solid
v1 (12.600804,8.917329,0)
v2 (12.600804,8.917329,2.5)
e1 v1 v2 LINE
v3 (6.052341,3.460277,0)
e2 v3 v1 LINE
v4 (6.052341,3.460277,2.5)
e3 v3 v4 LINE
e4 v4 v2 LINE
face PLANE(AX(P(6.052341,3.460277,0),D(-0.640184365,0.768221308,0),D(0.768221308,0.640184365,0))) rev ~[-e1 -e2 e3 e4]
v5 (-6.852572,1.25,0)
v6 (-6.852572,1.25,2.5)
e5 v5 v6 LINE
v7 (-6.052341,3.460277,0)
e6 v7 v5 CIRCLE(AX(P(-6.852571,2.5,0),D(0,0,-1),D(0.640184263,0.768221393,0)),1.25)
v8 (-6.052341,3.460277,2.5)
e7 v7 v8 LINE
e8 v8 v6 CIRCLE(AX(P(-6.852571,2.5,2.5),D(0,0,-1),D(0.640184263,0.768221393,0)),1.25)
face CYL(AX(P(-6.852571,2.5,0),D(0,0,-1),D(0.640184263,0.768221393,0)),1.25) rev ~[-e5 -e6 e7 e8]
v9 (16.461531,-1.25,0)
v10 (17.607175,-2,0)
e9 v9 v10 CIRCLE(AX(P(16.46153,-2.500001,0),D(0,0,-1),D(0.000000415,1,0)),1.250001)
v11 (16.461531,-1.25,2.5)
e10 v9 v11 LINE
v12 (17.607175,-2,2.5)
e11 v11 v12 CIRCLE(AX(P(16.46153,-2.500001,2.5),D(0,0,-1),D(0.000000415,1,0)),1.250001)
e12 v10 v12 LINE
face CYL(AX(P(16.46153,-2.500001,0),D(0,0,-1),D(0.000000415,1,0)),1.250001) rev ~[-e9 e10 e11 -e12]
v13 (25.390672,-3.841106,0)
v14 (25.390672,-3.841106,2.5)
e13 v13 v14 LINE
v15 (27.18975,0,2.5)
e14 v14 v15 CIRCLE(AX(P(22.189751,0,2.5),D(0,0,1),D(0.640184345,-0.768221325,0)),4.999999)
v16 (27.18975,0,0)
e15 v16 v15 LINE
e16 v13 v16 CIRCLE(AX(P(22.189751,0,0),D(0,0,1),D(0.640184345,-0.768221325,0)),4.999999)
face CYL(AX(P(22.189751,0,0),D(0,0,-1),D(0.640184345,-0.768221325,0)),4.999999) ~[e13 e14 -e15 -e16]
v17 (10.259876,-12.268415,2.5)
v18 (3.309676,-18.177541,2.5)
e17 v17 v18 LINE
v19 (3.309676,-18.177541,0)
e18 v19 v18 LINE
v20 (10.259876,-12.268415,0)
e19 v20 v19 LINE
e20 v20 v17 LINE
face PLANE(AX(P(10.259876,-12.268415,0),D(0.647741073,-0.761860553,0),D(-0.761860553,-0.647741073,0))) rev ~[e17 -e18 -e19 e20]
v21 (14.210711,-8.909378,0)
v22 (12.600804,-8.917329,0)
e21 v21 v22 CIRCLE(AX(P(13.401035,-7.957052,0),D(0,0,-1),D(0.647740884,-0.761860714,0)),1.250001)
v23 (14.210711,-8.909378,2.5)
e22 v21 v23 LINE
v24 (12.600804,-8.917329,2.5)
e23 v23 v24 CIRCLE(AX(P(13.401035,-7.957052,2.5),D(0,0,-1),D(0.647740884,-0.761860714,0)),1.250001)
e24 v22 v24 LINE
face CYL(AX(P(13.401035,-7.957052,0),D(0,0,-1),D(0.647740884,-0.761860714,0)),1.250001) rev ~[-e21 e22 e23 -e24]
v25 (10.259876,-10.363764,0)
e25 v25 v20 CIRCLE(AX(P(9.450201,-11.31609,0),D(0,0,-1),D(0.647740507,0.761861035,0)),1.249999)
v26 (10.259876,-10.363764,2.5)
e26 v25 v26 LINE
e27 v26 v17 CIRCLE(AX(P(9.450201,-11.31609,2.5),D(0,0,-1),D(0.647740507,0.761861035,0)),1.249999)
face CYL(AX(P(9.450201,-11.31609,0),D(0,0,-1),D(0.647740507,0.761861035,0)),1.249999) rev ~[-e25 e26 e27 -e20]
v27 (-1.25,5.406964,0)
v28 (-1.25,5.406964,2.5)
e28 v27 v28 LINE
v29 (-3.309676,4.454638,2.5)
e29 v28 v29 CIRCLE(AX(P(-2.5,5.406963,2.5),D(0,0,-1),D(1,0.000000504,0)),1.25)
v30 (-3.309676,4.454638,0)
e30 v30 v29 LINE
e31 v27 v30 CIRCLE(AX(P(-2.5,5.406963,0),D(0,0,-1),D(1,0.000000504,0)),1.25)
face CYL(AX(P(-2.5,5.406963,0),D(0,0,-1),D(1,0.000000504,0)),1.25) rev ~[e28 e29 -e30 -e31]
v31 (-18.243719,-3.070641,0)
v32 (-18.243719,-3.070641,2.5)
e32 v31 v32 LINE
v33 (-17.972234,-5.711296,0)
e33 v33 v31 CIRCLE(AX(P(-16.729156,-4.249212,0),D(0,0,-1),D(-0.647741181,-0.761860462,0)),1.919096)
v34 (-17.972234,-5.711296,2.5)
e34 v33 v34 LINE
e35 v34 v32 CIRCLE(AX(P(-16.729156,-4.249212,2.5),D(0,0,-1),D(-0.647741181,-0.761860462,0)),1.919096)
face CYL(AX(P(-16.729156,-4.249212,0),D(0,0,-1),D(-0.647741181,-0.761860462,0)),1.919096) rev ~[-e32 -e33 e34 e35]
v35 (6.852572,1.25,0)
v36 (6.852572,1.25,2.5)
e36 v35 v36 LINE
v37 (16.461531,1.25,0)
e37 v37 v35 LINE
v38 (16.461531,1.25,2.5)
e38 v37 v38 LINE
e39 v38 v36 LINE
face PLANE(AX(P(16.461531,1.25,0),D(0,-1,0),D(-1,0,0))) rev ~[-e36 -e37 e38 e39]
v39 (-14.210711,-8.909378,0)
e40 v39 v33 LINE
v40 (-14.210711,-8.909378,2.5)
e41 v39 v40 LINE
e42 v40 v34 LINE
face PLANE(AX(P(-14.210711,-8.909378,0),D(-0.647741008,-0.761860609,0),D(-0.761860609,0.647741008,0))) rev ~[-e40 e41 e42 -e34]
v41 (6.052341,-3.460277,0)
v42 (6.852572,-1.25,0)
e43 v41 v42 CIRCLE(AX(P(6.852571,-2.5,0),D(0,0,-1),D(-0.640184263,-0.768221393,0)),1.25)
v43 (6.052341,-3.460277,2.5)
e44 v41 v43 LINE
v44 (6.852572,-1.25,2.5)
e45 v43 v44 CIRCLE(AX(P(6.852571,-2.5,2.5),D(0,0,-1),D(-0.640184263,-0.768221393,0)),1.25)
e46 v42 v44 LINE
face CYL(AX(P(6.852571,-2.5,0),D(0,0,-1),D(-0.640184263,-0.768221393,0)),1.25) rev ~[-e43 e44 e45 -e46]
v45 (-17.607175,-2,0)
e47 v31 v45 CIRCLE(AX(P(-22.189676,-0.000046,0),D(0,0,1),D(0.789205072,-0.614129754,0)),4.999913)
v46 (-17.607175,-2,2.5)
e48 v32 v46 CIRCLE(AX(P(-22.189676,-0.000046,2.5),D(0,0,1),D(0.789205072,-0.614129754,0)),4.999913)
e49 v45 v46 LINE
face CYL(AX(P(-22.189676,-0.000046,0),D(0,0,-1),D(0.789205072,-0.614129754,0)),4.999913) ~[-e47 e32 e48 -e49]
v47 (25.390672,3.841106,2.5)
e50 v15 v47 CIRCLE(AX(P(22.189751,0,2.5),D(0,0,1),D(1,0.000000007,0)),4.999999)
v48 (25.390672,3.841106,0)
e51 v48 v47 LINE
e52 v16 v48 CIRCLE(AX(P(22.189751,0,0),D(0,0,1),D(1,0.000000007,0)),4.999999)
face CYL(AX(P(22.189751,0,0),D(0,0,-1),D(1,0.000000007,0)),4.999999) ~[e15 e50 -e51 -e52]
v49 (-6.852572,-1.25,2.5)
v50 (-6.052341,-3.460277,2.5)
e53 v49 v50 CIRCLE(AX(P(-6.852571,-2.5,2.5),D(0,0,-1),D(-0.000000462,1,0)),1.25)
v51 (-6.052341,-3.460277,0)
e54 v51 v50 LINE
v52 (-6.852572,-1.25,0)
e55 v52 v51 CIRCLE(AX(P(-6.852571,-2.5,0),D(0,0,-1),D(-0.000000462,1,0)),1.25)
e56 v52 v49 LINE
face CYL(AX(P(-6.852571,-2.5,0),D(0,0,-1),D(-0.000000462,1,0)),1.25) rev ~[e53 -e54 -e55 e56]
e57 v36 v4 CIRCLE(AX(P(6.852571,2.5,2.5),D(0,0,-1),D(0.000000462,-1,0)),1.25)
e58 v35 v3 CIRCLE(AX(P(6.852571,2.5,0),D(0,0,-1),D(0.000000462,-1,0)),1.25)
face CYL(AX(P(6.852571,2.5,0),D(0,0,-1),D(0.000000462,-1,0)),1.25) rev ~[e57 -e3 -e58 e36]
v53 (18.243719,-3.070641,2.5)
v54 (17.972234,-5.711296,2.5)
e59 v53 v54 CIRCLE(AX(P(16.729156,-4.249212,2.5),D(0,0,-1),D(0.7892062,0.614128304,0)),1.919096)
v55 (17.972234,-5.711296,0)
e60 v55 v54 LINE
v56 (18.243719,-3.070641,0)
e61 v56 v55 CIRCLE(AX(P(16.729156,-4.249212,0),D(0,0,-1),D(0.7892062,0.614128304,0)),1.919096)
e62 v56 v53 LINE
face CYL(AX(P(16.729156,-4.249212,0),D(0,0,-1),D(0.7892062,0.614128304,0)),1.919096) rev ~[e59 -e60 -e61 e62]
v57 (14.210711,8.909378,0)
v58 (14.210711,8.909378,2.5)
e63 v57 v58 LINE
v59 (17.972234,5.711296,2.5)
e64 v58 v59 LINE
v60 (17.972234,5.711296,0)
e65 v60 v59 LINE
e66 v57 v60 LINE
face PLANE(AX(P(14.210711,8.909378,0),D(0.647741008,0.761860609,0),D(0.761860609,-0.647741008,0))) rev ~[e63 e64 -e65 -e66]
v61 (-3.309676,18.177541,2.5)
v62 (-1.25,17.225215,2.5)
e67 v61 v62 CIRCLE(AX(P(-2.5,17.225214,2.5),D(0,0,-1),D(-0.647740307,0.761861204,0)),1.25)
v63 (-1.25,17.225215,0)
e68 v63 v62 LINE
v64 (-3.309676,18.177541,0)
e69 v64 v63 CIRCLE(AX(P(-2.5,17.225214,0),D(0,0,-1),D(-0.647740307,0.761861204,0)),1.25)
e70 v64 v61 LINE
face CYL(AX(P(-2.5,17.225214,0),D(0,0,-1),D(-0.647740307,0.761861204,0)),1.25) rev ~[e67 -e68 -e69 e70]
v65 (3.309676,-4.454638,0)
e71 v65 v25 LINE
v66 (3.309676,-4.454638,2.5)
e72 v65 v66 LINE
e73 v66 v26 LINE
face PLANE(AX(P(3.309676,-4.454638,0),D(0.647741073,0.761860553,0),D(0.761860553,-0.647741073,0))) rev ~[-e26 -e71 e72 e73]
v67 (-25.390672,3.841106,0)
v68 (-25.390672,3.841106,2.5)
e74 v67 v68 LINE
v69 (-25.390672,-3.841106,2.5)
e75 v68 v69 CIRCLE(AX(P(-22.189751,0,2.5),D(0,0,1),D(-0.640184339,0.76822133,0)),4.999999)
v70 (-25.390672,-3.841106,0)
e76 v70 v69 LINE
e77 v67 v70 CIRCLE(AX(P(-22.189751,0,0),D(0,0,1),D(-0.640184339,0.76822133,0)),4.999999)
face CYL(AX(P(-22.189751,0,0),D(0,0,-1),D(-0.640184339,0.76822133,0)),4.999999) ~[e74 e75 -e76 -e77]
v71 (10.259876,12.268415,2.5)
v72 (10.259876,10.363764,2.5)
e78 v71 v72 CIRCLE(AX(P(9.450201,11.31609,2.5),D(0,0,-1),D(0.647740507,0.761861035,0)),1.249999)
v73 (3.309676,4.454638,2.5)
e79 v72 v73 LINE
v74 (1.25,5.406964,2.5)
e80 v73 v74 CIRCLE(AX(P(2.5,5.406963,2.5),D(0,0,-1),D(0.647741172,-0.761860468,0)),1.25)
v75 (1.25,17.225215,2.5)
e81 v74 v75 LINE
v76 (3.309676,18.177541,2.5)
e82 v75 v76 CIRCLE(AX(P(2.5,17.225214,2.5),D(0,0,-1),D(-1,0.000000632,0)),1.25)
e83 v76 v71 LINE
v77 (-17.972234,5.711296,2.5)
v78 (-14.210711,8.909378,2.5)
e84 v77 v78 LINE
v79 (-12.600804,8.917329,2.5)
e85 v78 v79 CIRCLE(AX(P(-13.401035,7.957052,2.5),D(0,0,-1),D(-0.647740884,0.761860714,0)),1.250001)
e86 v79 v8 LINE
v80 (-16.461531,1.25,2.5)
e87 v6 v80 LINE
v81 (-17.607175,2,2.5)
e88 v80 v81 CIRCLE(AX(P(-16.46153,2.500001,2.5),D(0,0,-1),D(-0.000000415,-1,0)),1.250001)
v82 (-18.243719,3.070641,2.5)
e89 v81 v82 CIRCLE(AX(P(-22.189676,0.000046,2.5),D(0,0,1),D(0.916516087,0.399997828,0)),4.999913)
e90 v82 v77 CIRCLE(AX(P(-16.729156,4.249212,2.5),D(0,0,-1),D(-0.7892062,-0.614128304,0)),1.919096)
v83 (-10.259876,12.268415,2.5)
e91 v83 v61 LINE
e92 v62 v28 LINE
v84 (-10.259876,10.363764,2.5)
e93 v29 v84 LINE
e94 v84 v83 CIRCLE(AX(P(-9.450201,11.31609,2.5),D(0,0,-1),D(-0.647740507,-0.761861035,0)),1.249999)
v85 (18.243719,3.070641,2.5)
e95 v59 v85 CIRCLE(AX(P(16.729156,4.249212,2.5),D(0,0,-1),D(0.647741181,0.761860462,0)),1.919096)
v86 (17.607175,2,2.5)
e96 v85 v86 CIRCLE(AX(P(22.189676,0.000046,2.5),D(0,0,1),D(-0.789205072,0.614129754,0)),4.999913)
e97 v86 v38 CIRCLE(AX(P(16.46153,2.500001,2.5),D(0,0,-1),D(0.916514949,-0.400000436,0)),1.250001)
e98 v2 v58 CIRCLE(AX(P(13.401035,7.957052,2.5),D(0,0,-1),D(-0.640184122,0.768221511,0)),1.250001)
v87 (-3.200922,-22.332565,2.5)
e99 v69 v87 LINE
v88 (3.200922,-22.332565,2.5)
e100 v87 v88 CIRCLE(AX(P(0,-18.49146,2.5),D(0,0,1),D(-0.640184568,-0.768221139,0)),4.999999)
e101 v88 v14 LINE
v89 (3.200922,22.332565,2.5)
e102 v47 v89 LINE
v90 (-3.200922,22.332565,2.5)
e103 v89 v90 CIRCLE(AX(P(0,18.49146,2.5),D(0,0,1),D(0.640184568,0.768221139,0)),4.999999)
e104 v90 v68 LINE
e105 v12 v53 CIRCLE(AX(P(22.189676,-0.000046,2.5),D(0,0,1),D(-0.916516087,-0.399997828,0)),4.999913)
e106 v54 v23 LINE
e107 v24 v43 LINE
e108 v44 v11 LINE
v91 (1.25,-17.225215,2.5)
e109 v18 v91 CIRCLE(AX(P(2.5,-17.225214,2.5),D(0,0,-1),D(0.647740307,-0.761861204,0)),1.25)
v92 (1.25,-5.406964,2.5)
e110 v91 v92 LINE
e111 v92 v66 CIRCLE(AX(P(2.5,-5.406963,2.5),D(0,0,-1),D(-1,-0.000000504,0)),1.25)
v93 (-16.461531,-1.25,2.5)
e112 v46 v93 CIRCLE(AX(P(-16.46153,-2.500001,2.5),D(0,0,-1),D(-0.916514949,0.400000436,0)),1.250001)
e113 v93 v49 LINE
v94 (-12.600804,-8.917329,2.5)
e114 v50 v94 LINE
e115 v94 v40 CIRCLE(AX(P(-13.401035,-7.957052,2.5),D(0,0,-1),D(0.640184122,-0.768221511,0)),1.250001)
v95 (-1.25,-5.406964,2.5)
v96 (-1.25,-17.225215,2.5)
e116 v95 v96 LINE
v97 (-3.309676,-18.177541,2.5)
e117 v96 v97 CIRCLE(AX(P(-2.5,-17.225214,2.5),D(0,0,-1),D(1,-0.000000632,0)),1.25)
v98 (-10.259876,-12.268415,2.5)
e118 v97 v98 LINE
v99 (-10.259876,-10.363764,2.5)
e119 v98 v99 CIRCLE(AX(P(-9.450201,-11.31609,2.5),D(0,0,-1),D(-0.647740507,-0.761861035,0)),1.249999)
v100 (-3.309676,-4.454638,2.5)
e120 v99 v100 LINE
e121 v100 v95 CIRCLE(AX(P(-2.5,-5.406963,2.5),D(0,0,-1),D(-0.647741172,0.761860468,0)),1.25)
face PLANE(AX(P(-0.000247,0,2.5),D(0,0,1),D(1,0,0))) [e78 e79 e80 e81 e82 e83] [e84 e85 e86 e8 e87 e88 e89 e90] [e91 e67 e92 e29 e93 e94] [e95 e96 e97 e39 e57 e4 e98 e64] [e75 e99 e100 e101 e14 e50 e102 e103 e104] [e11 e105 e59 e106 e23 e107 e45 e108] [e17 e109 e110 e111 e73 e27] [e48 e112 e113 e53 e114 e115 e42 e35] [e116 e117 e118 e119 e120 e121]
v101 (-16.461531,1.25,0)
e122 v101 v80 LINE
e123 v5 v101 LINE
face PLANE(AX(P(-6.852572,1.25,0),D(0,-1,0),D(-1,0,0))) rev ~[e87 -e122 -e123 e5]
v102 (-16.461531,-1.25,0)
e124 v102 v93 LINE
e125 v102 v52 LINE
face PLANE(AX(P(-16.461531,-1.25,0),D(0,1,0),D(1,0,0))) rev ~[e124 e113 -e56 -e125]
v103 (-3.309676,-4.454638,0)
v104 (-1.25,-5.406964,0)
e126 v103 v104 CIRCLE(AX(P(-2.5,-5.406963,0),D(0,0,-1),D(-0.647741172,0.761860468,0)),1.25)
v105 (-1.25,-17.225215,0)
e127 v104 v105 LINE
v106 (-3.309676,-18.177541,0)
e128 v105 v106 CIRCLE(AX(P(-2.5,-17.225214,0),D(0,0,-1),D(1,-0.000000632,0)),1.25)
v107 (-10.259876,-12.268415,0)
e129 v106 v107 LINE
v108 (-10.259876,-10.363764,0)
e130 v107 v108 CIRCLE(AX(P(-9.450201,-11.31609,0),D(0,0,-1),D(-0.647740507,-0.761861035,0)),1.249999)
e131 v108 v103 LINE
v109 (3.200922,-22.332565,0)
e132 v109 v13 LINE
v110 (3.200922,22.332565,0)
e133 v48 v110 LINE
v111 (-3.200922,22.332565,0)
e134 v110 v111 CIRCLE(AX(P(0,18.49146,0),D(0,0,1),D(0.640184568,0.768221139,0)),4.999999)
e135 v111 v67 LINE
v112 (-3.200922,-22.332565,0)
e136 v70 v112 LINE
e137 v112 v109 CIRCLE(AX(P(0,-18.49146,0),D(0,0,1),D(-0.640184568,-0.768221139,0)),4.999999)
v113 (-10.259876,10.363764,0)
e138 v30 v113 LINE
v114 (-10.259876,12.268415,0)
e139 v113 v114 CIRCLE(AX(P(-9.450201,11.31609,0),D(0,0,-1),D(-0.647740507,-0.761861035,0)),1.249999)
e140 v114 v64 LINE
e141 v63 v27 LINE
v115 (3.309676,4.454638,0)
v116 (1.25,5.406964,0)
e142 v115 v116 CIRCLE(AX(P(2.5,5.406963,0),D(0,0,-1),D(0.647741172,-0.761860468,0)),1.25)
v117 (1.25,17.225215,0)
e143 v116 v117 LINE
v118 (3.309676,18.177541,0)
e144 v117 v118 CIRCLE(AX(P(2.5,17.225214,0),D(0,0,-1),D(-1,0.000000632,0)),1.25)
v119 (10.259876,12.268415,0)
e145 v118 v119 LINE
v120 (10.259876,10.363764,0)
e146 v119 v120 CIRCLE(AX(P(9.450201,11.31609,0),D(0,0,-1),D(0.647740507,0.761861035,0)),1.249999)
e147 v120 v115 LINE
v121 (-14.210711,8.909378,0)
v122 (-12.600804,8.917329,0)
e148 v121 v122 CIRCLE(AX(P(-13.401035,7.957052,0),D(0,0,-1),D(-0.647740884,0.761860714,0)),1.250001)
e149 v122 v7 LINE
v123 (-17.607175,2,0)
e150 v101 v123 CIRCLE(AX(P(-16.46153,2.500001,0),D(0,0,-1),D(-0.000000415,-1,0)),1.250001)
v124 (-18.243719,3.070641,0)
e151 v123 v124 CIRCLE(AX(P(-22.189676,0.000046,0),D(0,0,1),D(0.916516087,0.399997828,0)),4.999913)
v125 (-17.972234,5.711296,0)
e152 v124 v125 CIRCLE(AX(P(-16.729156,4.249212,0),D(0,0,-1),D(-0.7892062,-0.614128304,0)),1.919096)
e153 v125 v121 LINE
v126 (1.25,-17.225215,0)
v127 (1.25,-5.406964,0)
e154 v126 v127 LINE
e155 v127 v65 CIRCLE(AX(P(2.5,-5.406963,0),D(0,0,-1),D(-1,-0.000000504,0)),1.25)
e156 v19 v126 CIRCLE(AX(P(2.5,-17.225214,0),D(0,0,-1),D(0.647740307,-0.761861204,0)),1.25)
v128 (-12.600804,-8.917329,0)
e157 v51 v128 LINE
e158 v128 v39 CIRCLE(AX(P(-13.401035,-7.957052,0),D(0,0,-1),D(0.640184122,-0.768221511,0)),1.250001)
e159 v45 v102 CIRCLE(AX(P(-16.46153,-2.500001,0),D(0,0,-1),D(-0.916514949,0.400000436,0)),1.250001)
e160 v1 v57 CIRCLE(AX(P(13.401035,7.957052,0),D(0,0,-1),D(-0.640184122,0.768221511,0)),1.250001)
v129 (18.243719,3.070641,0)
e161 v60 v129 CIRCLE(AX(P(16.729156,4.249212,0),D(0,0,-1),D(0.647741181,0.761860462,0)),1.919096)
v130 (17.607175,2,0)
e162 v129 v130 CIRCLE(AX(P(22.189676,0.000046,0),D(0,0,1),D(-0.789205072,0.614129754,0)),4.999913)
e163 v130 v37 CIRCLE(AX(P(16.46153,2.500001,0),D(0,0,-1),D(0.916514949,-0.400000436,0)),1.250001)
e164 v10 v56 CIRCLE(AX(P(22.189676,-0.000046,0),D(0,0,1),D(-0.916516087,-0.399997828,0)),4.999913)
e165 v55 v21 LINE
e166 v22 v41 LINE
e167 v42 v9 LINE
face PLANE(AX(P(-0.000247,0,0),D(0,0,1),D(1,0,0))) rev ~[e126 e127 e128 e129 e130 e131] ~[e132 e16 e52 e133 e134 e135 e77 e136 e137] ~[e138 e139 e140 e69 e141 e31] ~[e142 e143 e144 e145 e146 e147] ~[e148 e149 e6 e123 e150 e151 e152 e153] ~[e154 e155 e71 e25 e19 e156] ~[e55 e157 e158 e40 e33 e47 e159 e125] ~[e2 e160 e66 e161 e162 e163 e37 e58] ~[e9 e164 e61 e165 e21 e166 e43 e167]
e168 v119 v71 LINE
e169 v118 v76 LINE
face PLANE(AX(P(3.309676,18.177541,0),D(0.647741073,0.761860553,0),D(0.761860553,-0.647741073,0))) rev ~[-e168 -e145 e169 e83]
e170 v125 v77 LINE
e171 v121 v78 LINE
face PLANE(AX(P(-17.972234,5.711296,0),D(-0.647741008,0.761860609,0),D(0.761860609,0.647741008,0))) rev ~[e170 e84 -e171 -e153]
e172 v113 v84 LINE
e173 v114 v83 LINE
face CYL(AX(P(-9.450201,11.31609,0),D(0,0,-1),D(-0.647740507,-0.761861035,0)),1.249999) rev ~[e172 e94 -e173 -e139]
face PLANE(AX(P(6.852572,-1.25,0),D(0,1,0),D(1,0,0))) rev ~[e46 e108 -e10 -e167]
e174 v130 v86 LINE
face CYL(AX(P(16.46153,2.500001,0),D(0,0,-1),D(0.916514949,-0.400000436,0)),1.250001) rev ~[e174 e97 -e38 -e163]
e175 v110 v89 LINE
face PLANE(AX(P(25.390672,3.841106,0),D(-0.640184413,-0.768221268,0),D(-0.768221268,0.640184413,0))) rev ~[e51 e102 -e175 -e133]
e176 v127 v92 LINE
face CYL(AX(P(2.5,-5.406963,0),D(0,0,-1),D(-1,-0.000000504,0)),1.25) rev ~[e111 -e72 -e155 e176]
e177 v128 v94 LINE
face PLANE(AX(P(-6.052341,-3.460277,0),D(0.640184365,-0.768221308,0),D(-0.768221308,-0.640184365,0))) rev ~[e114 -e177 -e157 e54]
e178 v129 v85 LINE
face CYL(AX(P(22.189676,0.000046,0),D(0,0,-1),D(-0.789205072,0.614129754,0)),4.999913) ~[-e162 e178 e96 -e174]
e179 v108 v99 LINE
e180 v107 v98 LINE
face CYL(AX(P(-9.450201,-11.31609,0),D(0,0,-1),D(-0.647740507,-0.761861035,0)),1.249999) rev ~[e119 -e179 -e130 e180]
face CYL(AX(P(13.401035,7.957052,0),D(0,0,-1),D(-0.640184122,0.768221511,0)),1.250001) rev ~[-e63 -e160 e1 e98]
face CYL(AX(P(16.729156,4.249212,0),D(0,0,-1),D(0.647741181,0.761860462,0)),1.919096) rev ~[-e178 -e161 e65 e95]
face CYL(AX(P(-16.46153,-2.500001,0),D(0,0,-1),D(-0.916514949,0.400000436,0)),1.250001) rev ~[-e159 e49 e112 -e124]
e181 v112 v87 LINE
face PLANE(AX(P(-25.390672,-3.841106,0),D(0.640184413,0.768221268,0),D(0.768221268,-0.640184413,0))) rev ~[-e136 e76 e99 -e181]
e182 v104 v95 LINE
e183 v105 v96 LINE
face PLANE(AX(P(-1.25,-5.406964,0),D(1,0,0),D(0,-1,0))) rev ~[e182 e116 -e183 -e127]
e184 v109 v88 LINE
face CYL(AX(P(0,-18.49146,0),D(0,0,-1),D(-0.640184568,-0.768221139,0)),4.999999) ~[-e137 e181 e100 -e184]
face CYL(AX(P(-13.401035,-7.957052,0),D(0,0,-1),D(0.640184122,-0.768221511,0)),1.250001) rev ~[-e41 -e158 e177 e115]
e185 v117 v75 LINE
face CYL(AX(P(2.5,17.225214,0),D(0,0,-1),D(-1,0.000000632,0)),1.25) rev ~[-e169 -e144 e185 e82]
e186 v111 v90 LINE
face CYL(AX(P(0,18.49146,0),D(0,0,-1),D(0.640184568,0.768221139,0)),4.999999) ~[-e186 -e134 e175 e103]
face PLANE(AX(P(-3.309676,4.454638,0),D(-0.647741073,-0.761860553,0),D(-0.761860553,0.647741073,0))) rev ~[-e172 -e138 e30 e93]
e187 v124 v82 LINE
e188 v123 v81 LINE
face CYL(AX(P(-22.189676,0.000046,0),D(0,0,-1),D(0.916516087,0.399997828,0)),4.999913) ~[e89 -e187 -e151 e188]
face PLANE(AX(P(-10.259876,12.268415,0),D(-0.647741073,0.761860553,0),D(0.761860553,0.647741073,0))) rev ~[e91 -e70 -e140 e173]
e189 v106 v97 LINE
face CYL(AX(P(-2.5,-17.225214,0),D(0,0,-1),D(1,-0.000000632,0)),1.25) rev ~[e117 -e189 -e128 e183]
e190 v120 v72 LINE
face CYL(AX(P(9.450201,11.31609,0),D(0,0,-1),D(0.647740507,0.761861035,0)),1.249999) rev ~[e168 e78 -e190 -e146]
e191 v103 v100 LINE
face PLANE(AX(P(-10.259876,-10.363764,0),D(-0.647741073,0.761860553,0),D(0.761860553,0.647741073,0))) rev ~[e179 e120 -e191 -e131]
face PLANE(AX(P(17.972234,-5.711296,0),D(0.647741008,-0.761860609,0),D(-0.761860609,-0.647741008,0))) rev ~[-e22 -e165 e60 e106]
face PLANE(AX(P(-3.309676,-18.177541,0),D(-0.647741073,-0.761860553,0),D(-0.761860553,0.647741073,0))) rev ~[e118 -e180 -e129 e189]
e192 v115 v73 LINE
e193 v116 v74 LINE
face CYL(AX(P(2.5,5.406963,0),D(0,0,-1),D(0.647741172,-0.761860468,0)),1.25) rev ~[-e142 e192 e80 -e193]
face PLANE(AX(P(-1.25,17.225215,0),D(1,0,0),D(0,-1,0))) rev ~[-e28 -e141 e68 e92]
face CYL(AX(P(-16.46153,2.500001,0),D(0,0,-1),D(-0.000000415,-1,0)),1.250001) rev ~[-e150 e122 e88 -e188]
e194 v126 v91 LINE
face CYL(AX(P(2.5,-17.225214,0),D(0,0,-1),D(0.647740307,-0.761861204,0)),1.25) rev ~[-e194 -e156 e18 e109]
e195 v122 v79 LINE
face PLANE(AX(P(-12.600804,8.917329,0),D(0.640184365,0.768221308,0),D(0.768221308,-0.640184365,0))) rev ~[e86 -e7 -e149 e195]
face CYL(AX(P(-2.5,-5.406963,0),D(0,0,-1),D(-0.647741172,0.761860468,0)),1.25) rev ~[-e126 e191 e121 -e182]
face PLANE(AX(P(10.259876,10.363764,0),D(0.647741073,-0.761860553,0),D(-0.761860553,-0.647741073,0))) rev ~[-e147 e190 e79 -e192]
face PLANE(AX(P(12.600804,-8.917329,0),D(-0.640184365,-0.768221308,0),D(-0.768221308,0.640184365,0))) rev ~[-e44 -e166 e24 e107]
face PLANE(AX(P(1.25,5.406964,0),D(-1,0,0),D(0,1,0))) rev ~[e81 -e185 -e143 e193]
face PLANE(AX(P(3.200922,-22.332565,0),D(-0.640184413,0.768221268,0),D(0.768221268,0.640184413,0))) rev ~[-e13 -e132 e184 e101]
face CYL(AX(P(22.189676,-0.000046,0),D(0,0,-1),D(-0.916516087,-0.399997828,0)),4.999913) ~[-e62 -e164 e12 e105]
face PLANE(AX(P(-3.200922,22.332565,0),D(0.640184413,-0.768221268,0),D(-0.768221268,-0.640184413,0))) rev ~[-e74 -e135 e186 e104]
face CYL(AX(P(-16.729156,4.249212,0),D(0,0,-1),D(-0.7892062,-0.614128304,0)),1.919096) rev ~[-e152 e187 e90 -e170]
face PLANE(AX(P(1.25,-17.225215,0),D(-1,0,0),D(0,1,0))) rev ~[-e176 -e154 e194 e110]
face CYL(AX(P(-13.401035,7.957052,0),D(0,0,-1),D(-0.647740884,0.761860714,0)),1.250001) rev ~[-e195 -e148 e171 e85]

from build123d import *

# Parameters (mm, degrees)
F0_R     = 2.5
F1_DEPTH = 2.5


with BuildPart() as f1:
    # F0 (on Top) → F1 (new body)
    with BuildSketch(Plane.XY):
        with BuildLine():
            Line((-3.200922, 22.332565), (-25.390672, 3.841106))
            ThreePointArc((-25.390672, 3.841106), (-21.653839, 4.971197), (-18.243719, 3.070641))
            ThreePointArc((-18.243719, 3.070641), (-18.63819, 4.44548), (-17.972234, 5.711296))
            Line((-17.972234, 5.711296), (-14.210711, 8.909378))
            ThreePointArc((-14.210711, 8.909378), (-13.407208, 9.207037), (-12.600804, 8.917329))
            Line((-12.600804, 8.917329), (-6.052341, 3.460277))
            ThreePointArc((-6.052341, 3.460277), (-5.677232, 2.074468), (-6.852572, 1.25))
            Line((-6.852572, 1.25), (-16.461531, 1.25))
            ThreePointArc((-16.461531, 1.25), (-17.146184, 1.454175), (-17.607175, 2))
            ThreePointArc((-17.607175, 2), (-17.295219, 1.021548), (-17.18975, 0))
            ThreePointArc((-17.18975, 0), (-17.295219, -1.021548), (-17.607175, -2))
            ThreePointArc((-17.607175, -2), (-17.146184, -1.454175), (-16.461531, -1.25))
            Line((-16.461531, -1.25), (-6.852572, -1.25))
            ThreePointArc((-6.852572, -1.25), (-5.677232, -2.074468), (-6.052341, -3.460277))
            Line((-6.052341, -3.460277), (-12.600804, -8.917329))
            ThreePointArc((-12.600804, -8.917329), (-13.407208, -9.207037), (-14.210711, -8.909378))
            Line((-14.210711, -8.909378), (-17.972234, -5.711296))
            ThreePointArc((-17.972234, -5.711296), (-18.63819, -4.44548), (-18.243719, -3.070641))
            ThreePointArc((-18.243719, -3.070641), (-21.653839, -4.971197), (-25.390672, -3.841106))
            Line((-25.390672, -3.841106), (-3.200922, -22.332565))
            ThreePointArc((-3.200922, -22.332565), (0, -23.491459), (3.200922, -22.332565))
            Line((3.200922, -22.332565), (25.390672, -3.841106))
            ThreePointArc((25.390672, -3.841106), (21.653839, -4.971197), (18.243719, -3.070641))
            ThreePointArc((18.243719, -3.070641), (18.63819, -4.44548), (17.972234, -5.711296))
            Line((17.972234, -5.711296), (14.210711, -8.909378))
            ThreePointArc((14.210711, -8.909378), (13.407208, -9.207037), (12.600804, -8.917329))
            Line((12.600804, -8.917329), (6.052341, -3.460277))
            ThreePointArc((6.052341, -3.460277), (5.677232, -2.074468), (6.852572, -1.25))
            Line((6.852572, -1.25), (16.461531, -1.25))
            ThreePointArc((16.461531, -1.25), (17.146184, -1.454175), (17.607175, -2))
            ThreePointArc((17.607175, -2), (17.18975, 0), (17.607175, 2))
            ThreePointArc((17.607175, 2), (17.146184, 1.454175), (16.461531, 1.25))
            Line((16.461531, 1.25), (6.852572, 1.25))
            ThreePointArc((6.852572, 1.25), (5.677232, 2.074468), (6.052341, 3.460277))
            Line((6.052341, 3.460277), (12.600804, 8.917329))
            ThreePointArc((12.600804, 8.917329), (13.407208, 9.207037), (14.210711, 8.909378))
            Line((14.210711, 8.909378), (17.972234, 5.711296))
            ThreePointArc((17.972234, 5.711296), (18.63819, 4.44548), (18.243719, 3.070641))
            ThreePointArc((18.243719, 3.070641), (21.653839, 4.971197), (25.390672, 3.841106))
            Line((25.390672, 3.841106), (3.200922, 22.332565))
            ThreePointArc((3.200922, 22.332565), (0, 23.491459), (-3.200922, 22.332565))
        make_face()
        with BuildLine():
            Line((-10.259876, -10.363764), (-3.309676, -4.454638))
            ThreePointArc((-3.309676, -4.454638), (-1.975403, -4.272372), (-1.25, -5.406964))
            Line((-1.25, -5.406964), (-1.25, -17.225215))
            ThreePointArc((-1.25, -17.225215), (-1.975403, -18.359806), (-3.309676, -18.177541))
            Line((-3.309676, -18.177541), (-10.259876, -12.268415))
            ThreePointArc((-10.259876, -12.268415), (-10.7002, -11.316089), (-10.259876, -10.363764))
        make_face(mode=Mode.SUBTRACT)
        with BuildLine():
            ThreePointArc((1.25, -5.406964), (1.975403, -4.272372), (3.309676, -4.454638))
            Line((3.309676, -4.454638), (10.259876, -10.363764))
            ThreePointArc((10.259876, -10.363764), (10.7002, -11.316089), (10.259876, -12.268415))
            Line((10.259876, -12.268415), (3.309676, -18.177541))
            ThreePointArc((3.309676, -18.177541), (1.975403, -18.359806), (1.25, -17.225215))
            Line((1.25, -17.225215), (1.25, -5.406964))
        make_face(mode=Mode.SUBTRACT)
        with BuildLine():
            Line((-1.25, 17.225215), (-1.25, 5.406964))
            ThreePointArc((-1.25, 5.406964), (-1.975403, 4.272372), (-3.309676, 4.454638))
            Line((-3.309676, 4.454638), (-10.259876, 10.363764))
            ThreePointArc((-10.259876, 10.363764), (-10.7002, 11.316089), (-10.259876, 12.268415))
            Line((-10.259876, 12.268415), (-3.309676, 18.177541))
            ThreePointArc((-3.309676, 18.177541), (-1.975403, 18.359806), (-1.25, 17.225215))
        make_face(mode=Mode.SUBTRACT)
        with BuildLine():
            ThreePointArc((3.309676, 4.454638), (1.975403, 4.272372), (1.25, 5.406964))
            Line((1.25, 5.406964), (1.25, 17.225215))
            ThreePointArc((1.25, 17.225215), (1.975403, 18.359806), (3.309676, 18.177541))
            Line((3.309676, 18.177541), (10.259876, 12.268415))
            ThreePointArc((10.259876, 12.268415), (10.7002, 11.316089), (10.259876, 10.363764))
            Line((10.259876, 10.363764), (3.309676, 4.454638))
        make_face(mode=Mode.SUBTRACT)
        with BuildLine():
            ThreePointArc((-18.243719, 3.070641), (-21.653839, 4.971197), (-25.390672, 3.841106))
            ThreePointArc((-25.390672, 3.841106), (-27.18975, 0), (-25.390672, -3.841106))
            ThreePointArc((-25.390672, -3.841106), (-21.653839, -4.971197), (-18.243719, -3.070641))
            ThreePointArc((-18.243719, -3.070641), (-17.891977, -2.55522), (-17.607175, -2))
            ThreePointArc((-17.607175, -2), (-17.295219, -1.021548), (-17.18975, 0))
            ThreePointArc((-17.18975, 0), (-17.295219, 1.021548), (-17.607175, 2))
            ThreePointArc((-17.607175, 2), (-17.891977, 2.55522), (-18.243719, 3.070641))
        make_face()
        with Locations((-22.18975, 0)):
            Circle(F0_R, mode=Mode.SUBTRACT)
        with Locations((-22.18975, 0)):
            Circle(F0_R)
        with BuildLine():
            ThreePointArc((27.18975, 0), (26.717697, 2.120777), (25.390672, 3.841106))
            ThreePointArc((25.390672, 3.841106), (21.653839, 4.971197), (18.243719, 3.070641))
            ThreePointArc((18.243719, 3.070641), (17.891977, 2.55522), (17.607175, 2))
            ThreePointArc((17.607175, 2), (17.18975, 0), (17.607175, -2))
            ThreePointArc((17.607175, -2), (17.891977, -2.55522), (18.243719, -3.070641))
            ThreePointArc((18.243719, -3.070641), (21.653839, -4.971197), (25.390672, -3.841106))
            ThreePointArc((25.390672, -3.841106), (26.717697, -2.120777), (27.18975, 0))
        make_face()
        with Locations((22.18975, 0)):
            Circle(F0_R, mode=Mode.SUBTRACT)
        with Locations((22.18975, 0)):
            Circle(F0_R)
    extrude(amount=F1_DEPTH)


solid = f1.part
